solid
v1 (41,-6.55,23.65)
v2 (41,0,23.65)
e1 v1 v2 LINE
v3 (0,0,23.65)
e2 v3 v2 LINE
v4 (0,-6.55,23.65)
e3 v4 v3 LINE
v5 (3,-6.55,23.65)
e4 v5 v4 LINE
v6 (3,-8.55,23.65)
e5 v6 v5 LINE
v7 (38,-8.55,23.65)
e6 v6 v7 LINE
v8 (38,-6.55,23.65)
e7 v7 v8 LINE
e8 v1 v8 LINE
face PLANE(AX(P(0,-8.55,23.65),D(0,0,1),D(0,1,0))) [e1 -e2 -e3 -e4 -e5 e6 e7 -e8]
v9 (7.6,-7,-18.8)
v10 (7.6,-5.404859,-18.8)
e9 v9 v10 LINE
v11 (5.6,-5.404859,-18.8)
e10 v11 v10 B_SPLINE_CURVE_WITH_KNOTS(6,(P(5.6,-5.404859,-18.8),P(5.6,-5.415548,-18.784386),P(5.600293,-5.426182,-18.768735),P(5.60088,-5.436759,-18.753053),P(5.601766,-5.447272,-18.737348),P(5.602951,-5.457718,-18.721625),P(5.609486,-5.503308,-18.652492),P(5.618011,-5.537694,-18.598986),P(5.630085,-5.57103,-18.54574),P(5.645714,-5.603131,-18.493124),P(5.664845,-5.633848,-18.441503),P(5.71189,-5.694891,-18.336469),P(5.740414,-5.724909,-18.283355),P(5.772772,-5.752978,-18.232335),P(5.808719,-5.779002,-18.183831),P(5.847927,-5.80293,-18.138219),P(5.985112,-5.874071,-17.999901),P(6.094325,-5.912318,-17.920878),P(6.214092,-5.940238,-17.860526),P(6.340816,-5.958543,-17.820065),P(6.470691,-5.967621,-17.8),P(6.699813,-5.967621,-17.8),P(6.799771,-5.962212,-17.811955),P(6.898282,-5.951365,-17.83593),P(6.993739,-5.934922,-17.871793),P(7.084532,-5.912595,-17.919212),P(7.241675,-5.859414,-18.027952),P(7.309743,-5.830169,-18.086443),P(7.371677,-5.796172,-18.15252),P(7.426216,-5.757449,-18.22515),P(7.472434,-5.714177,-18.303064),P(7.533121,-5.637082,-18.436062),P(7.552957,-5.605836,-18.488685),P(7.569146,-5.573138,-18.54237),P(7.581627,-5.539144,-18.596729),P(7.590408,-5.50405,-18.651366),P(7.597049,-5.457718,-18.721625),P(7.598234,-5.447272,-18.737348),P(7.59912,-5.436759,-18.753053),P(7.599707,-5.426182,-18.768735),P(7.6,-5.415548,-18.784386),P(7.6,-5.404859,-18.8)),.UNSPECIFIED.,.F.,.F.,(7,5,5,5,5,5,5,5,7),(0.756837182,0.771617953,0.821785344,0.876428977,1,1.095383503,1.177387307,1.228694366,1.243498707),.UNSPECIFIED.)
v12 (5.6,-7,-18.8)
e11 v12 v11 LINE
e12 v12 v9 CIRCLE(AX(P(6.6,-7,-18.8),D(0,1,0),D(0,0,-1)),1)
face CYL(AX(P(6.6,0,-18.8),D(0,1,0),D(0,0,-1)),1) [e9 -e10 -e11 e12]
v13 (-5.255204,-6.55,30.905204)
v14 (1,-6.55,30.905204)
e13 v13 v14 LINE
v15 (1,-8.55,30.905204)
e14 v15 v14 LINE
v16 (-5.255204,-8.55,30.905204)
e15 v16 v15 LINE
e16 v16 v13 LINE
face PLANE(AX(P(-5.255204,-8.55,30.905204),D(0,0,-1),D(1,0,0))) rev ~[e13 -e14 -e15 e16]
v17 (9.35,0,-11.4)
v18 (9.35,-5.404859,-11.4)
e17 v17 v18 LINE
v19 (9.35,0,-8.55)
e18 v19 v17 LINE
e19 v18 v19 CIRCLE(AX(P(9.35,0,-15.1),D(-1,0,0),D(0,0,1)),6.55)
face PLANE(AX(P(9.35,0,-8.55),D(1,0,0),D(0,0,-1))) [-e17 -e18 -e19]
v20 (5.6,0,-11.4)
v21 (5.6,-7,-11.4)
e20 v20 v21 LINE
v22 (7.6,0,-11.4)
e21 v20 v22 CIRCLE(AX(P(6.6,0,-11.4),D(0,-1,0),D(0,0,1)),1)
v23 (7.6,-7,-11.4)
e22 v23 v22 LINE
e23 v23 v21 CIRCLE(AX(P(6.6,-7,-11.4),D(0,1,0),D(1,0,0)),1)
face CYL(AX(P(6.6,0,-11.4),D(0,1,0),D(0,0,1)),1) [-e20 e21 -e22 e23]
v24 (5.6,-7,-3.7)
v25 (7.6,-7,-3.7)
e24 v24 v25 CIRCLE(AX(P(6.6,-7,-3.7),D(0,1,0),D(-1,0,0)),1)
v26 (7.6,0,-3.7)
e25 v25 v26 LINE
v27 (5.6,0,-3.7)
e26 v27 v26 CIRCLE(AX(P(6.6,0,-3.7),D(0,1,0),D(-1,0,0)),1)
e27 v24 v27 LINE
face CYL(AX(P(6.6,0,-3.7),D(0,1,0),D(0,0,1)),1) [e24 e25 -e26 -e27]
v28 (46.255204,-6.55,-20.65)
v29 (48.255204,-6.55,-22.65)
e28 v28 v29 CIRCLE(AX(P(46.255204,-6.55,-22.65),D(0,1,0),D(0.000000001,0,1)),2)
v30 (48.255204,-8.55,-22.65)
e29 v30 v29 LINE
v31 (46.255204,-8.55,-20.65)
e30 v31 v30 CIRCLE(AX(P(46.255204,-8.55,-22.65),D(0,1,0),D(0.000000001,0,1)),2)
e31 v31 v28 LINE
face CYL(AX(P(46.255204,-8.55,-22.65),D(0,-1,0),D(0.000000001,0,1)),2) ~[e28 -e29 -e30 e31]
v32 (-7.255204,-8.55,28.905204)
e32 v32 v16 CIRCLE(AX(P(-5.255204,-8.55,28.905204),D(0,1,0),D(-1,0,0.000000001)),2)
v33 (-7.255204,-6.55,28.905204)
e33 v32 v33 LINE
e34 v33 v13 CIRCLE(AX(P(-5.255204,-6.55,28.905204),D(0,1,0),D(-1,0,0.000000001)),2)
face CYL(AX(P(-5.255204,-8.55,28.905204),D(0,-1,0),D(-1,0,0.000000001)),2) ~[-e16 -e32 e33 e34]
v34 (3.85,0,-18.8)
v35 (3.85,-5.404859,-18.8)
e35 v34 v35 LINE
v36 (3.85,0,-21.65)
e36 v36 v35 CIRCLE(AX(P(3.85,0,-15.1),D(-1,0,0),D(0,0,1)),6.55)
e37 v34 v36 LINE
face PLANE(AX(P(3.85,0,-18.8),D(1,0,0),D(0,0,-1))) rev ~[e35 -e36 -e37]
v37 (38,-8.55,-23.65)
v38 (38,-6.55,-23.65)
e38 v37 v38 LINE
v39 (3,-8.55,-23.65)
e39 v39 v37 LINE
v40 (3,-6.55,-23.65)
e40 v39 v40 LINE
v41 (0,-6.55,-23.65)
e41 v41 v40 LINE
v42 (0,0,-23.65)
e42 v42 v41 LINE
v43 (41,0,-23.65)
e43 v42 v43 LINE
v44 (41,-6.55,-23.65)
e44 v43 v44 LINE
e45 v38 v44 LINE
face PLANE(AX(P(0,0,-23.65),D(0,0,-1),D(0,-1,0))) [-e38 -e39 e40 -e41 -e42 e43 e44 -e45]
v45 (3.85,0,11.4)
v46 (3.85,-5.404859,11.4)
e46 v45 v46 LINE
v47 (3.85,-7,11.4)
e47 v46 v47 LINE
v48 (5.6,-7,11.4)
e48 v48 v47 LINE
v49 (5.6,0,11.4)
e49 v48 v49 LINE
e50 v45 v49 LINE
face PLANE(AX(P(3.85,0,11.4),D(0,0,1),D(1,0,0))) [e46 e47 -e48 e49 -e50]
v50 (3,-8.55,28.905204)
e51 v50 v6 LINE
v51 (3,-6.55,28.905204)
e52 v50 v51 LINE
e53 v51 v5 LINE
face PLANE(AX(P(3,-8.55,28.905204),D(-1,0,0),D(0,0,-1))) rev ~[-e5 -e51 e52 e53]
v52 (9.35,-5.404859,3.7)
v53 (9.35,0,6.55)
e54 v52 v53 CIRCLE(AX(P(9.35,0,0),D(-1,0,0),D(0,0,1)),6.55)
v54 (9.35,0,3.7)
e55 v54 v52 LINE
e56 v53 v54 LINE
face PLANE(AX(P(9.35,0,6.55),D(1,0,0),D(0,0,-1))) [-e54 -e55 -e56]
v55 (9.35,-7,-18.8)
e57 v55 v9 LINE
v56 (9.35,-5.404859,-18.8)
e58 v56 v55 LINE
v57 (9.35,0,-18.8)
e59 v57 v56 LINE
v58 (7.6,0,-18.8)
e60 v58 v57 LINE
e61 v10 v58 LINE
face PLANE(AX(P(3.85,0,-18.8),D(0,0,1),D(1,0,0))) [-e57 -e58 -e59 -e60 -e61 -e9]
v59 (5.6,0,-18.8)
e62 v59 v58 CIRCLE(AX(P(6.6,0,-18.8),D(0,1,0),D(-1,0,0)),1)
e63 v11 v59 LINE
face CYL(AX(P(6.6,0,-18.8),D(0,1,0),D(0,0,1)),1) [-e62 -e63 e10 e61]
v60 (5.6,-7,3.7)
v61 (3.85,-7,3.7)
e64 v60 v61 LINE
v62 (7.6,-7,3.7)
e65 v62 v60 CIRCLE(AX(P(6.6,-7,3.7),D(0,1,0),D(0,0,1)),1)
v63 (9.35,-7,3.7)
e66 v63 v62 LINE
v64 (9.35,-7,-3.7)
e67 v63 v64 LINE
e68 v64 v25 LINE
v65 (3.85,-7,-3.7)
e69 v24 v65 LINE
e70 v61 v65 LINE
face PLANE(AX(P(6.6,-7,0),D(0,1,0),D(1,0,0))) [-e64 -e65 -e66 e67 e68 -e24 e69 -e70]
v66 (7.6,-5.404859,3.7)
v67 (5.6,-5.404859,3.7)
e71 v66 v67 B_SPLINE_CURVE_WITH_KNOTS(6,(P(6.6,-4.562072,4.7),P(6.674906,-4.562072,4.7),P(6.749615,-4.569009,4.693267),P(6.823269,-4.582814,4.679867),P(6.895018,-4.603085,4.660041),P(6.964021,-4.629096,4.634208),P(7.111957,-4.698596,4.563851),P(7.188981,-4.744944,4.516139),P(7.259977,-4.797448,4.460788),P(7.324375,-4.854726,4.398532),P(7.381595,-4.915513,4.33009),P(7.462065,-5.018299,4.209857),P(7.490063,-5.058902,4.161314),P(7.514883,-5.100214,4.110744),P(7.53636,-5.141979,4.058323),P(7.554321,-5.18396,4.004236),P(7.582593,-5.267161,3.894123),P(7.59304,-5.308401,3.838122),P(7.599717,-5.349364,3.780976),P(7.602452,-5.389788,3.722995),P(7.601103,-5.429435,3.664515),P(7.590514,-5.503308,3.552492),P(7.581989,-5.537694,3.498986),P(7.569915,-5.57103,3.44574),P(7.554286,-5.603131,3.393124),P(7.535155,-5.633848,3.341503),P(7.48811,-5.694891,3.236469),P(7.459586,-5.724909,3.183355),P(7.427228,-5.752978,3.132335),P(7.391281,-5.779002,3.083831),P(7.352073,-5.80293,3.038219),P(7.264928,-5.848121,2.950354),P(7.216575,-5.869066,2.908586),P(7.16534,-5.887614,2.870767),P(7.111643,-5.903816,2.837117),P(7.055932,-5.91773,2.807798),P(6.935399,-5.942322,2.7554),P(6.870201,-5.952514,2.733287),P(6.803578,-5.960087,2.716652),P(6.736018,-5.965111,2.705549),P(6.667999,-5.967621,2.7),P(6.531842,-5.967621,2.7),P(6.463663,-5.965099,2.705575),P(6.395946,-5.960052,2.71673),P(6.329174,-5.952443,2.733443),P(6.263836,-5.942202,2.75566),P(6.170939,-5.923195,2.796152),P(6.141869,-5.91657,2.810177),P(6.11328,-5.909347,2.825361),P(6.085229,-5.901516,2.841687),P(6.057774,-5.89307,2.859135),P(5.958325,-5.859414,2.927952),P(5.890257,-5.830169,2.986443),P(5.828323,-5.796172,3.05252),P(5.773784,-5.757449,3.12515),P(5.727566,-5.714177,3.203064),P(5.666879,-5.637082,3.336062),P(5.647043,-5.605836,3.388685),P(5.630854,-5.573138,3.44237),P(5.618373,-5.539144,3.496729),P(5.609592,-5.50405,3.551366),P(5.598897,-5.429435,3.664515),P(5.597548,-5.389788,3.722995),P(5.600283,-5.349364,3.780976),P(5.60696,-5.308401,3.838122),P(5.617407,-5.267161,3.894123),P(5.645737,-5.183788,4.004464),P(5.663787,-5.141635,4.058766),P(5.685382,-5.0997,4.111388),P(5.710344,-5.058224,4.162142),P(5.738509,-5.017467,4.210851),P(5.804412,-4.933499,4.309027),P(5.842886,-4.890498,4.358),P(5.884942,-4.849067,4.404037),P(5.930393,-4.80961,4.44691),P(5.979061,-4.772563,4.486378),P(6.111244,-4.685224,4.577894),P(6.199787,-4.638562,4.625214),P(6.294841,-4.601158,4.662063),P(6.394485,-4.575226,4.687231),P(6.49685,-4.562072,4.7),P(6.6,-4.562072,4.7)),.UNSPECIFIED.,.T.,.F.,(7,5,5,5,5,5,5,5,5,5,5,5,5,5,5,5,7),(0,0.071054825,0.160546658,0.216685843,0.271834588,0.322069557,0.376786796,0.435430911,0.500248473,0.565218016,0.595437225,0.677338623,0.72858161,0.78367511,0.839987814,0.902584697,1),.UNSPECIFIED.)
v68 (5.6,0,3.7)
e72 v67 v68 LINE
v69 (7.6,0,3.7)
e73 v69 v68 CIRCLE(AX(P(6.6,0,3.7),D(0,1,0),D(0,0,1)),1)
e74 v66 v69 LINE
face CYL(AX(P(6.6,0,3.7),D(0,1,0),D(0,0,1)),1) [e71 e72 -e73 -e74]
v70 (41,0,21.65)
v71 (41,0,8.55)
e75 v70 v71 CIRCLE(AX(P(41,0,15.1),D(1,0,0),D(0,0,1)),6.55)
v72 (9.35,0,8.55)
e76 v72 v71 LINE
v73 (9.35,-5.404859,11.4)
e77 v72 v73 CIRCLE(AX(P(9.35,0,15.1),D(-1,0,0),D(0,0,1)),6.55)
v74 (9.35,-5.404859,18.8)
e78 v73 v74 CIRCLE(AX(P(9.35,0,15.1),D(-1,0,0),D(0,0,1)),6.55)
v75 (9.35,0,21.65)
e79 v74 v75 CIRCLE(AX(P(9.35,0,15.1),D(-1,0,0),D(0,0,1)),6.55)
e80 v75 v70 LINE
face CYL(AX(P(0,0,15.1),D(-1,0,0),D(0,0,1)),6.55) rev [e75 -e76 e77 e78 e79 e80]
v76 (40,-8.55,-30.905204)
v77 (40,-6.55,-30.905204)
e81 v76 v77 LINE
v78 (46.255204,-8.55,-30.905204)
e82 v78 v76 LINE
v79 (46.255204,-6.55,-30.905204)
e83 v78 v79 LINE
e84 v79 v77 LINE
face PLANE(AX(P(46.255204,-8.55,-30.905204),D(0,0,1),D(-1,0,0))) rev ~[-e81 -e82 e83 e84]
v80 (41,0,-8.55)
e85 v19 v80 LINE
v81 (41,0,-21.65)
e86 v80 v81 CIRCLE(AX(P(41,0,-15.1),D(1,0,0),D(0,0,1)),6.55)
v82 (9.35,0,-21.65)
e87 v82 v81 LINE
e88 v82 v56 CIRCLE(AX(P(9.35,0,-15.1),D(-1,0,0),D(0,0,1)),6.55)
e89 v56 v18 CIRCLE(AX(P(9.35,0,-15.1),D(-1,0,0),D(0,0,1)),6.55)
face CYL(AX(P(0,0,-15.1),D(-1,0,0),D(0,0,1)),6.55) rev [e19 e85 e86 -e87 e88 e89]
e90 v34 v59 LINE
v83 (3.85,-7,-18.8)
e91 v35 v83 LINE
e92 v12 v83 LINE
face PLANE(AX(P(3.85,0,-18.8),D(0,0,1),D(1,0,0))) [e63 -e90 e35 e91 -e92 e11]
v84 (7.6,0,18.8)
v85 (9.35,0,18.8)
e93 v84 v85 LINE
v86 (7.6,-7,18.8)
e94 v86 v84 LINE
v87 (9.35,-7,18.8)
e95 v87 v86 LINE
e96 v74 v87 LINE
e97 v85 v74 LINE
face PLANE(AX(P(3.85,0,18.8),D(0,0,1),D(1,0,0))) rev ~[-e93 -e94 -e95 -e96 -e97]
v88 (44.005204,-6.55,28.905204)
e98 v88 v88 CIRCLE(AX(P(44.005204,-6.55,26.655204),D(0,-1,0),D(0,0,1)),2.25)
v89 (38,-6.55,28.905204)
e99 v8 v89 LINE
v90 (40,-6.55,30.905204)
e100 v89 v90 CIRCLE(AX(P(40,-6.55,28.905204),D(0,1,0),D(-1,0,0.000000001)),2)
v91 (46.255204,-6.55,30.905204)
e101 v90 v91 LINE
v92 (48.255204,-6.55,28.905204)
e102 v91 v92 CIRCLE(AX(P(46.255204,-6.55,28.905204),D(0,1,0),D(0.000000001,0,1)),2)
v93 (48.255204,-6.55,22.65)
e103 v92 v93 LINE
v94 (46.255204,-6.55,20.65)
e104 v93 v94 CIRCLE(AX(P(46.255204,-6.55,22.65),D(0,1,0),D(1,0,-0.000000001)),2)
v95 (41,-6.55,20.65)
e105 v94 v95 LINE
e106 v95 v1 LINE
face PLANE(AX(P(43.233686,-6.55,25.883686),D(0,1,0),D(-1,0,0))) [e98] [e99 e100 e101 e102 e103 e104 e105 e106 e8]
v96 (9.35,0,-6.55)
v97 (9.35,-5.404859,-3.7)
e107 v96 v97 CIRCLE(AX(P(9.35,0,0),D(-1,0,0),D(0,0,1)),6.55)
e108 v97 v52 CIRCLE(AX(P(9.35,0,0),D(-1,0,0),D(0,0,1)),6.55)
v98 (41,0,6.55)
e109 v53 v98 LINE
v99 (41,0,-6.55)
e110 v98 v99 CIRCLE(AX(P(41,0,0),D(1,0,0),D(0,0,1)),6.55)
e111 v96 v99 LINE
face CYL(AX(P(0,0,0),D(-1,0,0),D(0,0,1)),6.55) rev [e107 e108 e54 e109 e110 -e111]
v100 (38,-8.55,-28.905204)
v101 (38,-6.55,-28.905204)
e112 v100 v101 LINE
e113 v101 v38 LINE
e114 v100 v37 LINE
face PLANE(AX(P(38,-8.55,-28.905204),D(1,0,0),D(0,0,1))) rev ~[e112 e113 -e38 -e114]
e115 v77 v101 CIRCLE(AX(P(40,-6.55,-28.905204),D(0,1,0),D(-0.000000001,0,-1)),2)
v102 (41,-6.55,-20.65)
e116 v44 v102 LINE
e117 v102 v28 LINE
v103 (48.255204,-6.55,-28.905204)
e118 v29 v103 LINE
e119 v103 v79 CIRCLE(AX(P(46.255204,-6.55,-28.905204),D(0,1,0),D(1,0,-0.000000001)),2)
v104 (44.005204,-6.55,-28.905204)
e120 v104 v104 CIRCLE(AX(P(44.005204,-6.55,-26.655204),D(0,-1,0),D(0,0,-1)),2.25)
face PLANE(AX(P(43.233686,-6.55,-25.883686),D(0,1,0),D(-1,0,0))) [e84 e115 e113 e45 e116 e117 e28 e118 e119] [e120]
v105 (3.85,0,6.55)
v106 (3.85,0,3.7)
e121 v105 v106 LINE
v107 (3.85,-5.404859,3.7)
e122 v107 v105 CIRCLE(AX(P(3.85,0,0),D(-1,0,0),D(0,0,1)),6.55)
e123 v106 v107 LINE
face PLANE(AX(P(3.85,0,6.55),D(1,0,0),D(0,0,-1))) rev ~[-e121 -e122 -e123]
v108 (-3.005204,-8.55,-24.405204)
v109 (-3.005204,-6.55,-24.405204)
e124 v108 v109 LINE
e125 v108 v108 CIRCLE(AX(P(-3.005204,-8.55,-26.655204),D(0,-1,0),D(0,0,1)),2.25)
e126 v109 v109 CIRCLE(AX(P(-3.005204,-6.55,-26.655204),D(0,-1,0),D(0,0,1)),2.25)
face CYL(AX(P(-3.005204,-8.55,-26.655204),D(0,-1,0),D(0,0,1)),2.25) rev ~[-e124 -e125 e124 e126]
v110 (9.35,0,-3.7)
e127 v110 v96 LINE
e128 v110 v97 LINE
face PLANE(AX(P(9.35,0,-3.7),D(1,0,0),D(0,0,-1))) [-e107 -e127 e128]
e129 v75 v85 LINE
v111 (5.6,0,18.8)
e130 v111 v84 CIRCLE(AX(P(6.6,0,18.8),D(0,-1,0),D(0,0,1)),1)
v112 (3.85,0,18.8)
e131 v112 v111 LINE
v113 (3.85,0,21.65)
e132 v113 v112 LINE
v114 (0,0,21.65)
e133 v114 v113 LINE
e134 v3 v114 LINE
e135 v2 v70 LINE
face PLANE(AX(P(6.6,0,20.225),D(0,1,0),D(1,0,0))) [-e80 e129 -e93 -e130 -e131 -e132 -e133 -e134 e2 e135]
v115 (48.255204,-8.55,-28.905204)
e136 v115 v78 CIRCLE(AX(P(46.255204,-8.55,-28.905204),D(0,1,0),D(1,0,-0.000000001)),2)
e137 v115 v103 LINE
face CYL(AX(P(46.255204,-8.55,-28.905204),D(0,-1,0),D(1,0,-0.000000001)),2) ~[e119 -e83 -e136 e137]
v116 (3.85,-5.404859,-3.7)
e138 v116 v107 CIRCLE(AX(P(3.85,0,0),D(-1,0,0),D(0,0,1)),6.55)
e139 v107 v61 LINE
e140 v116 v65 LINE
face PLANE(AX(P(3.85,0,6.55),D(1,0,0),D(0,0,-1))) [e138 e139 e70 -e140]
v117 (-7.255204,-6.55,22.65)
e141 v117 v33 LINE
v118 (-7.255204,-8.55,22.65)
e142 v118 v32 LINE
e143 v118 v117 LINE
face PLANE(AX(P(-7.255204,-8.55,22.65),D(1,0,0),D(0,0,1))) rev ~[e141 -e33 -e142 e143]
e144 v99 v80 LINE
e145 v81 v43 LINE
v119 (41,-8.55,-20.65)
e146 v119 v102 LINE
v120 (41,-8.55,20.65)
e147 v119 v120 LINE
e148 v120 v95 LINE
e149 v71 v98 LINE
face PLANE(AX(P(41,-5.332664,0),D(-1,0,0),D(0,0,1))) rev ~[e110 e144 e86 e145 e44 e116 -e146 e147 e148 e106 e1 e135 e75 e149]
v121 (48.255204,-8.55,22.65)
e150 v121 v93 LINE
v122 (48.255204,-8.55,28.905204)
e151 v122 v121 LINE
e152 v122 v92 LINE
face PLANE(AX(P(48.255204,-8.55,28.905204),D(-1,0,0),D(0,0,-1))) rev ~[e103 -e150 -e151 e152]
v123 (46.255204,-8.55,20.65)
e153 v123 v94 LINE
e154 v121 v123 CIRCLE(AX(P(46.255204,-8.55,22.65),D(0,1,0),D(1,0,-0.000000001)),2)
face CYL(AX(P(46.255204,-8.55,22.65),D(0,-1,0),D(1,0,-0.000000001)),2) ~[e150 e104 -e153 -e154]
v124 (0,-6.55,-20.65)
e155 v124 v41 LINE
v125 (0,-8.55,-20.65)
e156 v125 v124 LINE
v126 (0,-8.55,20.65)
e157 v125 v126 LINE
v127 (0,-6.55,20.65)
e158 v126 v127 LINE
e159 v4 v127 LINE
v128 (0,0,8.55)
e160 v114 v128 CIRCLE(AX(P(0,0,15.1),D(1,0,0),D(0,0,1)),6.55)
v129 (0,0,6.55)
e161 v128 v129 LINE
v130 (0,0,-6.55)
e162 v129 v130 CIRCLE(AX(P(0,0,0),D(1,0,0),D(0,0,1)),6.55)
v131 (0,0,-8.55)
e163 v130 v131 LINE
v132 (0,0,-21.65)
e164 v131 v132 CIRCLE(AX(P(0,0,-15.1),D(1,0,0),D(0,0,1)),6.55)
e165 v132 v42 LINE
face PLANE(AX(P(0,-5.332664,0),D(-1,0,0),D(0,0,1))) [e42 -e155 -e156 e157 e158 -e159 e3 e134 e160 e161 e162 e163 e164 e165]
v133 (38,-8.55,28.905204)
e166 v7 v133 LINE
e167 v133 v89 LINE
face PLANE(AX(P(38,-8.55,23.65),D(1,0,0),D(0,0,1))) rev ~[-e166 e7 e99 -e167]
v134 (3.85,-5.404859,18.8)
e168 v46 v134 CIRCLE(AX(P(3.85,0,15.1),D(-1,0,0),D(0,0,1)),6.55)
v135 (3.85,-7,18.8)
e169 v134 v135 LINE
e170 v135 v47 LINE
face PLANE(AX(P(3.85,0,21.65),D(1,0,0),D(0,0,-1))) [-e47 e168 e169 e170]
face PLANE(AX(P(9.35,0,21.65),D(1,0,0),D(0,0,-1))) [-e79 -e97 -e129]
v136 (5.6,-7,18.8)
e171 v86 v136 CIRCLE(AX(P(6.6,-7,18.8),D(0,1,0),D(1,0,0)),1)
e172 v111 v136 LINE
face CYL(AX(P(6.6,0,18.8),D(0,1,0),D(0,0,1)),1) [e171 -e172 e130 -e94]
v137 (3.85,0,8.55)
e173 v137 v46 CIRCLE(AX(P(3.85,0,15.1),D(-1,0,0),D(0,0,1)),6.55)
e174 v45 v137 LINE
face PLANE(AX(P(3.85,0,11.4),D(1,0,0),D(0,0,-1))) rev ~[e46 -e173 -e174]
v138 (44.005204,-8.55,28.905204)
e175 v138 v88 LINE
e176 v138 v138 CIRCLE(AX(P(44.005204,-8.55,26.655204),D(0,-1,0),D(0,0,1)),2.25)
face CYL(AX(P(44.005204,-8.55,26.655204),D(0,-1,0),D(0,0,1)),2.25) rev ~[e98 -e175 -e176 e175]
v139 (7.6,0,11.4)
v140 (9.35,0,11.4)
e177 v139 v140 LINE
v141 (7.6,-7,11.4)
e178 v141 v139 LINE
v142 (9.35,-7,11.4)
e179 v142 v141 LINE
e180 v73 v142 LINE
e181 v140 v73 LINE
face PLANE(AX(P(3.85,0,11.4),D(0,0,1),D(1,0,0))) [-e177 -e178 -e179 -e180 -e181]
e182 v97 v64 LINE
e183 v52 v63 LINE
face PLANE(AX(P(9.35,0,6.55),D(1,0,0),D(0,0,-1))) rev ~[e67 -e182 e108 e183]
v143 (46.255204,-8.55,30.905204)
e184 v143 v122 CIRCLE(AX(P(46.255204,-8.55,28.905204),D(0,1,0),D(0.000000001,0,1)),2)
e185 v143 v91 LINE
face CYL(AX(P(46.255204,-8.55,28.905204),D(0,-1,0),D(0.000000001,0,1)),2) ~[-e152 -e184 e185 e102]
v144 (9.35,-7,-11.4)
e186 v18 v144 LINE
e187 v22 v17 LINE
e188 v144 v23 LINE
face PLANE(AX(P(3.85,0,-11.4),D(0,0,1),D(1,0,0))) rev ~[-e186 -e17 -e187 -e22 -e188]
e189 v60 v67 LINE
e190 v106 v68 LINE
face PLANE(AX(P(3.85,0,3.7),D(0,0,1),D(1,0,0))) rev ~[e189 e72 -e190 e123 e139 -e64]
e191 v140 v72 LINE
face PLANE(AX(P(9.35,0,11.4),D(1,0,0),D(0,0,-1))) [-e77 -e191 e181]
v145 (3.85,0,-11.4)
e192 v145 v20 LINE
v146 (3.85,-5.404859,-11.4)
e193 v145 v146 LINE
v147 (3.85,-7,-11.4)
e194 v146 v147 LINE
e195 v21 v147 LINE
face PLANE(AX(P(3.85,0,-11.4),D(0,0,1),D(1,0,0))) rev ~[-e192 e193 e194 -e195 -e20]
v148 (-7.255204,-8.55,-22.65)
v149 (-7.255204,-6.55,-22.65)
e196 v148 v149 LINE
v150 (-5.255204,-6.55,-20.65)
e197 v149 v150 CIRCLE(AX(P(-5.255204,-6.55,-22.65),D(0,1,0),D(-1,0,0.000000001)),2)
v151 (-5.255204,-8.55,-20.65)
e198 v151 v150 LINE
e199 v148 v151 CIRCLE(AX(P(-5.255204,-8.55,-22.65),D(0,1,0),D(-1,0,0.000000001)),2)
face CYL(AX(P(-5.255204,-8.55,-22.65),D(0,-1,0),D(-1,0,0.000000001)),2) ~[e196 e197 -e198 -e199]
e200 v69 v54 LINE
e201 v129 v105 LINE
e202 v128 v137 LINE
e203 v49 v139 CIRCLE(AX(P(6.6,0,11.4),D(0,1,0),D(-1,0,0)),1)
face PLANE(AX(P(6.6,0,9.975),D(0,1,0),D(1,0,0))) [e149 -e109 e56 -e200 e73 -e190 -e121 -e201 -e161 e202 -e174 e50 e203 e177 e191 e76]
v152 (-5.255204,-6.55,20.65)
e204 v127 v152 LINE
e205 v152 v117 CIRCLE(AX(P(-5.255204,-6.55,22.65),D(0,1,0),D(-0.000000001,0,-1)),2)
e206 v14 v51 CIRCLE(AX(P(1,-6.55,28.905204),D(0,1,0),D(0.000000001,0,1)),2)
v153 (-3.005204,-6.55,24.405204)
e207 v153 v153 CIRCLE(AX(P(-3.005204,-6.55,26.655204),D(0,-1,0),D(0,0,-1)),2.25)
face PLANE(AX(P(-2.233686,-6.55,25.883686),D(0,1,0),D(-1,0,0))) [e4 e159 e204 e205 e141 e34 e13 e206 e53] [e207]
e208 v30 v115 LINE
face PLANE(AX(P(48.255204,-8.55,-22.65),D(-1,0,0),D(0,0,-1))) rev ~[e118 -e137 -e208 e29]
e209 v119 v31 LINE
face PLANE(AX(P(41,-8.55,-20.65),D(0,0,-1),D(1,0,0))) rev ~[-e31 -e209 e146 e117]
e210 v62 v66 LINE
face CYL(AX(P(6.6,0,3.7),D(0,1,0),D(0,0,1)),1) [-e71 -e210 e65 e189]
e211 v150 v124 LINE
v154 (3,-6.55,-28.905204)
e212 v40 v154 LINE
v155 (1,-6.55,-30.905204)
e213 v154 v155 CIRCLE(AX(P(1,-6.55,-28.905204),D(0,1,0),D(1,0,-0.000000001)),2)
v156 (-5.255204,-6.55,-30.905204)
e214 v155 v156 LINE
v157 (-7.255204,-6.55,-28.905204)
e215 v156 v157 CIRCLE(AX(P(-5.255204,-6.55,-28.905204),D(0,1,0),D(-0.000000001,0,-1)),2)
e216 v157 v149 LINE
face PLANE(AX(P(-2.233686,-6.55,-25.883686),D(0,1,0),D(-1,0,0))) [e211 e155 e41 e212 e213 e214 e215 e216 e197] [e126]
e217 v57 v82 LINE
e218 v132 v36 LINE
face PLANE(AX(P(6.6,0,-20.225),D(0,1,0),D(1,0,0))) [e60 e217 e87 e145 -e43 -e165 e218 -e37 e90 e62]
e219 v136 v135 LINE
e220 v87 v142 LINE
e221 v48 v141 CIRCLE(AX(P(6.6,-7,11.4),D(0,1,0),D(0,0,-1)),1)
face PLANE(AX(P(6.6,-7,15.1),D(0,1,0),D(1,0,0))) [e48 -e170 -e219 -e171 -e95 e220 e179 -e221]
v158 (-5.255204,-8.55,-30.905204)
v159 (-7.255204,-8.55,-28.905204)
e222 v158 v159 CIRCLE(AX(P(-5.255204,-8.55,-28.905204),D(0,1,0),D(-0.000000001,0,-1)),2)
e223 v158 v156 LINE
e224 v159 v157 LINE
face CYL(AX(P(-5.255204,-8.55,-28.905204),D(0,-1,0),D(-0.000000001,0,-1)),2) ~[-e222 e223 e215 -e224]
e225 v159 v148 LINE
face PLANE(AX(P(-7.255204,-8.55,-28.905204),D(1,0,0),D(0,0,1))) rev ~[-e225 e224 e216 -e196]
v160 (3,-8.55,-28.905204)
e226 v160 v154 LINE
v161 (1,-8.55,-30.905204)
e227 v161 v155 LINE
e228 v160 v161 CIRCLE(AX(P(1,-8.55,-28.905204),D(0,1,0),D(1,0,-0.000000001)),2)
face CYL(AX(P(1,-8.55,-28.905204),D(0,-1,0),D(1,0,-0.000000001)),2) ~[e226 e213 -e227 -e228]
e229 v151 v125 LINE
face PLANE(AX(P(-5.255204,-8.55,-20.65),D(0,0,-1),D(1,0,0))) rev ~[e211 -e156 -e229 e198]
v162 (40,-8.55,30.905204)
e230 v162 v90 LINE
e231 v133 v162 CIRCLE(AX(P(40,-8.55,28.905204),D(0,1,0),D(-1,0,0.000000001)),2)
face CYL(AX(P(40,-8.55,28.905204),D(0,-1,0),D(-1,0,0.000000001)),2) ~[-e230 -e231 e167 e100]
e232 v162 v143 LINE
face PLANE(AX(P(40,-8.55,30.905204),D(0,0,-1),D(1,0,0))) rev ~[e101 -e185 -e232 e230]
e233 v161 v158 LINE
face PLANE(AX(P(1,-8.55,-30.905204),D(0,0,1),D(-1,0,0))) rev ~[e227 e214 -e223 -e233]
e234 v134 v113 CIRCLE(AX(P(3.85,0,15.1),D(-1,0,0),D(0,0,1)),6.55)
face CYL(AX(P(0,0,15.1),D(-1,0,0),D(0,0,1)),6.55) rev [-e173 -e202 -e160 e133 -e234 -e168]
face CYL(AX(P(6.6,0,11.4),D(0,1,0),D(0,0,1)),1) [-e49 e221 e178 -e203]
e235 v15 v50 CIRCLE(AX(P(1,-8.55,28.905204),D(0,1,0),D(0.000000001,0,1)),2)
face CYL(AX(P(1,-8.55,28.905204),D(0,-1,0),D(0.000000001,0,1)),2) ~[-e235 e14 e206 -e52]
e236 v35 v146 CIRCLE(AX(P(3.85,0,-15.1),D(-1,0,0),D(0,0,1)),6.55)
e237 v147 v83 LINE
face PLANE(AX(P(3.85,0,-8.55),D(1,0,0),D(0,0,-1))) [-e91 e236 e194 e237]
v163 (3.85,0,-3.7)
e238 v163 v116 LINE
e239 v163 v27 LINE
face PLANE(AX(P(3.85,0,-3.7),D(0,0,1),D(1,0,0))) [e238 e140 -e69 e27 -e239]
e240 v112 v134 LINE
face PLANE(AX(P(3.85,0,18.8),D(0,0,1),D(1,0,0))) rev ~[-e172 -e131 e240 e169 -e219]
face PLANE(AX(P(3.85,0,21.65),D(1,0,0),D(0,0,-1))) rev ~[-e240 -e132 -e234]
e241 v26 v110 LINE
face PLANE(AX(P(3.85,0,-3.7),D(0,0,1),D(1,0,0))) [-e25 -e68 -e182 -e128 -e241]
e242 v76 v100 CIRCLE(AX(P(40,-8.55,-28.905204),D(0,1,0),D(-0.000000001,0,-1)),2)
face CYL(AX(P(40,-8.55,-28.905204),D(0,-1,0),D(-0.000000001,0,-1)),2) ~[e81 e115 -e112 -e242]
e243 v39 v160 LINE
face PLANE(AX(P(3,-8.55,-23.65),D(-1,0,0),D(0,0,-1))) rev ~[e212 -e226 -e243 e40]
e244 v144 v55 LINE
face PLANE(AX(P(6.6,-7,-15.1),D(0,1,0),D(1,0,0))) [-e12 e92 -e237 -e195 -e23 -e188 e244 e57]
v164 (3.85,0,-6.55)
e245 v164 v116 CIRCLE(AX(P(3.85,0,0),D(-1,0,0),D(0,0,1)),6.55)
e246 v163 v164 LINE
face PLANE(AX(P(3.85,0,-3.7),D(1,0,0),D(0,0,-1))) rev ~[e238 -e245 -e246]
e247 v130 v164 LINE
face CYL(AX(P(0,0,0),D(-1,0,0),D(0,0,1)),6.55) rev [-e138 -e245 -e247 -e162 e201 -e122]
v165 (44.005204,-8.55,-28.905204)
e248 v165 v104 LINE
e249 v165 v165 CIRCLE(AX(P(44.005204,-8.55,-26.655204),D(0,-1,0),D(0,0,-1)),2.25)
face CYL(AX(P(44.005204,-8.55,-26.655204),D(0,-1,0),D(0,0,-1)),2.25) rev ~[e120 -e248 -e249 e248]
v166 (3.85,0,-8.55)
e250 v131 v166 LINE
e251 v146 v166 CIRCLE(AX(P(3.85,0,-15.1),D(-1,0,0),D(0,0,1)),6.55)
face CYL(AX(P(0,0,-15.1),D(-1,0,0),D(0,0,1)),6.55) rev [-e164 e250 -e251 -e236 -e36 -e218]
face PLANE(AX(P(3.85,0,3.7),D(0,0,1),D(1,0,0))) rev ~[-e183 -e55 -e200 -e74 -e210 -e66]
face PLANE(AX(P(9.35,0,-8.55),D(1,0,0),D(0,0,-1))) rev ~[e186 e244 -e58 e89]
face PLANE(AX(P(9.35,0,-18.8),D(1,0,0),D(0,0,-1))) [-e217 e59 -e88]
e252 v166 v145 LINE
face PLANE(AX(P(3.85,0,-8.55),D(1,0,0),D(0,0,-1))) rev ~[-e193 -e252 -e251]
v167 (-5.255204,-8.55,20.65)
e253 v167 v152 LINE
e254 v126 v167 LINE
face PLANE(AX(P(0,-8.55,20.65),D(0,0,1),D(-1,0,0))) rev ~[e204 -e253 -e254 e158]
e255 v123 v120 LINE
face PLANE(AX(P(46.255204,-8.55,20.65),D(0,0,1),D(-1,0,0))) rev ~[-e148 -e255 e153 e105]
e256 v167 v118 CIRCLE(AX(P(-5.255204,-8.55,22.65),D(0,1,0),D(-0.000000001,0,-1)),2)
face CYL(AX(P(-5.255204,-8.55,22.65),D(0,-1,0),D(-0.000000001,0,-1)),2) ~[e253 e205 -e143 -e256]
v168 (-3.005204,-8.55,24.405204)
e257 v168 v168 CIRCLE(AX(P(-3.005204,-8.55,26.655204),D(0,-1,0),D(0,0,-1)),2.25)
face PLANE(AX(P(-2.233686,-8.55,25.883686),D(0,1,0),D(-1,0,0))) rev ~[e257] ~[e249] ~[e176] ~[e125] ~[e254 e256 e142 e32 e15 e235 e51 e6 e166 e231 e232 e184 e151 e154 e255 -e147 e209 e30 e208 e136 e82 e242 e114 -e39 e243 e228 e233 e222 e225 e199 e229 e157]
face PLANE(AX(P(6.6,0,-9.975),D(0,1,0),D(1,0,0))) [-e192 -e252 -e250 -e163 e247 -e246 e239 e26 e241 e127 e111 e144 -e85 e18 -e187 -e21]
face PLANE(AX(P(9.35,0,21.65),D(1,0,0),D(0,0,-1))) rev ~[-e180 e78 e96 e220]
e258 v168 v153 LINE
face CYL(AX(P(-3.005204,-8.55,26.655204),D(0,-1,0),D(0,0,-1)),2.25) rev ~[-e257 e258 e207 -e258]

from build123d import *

# Parameters (mm, degrees)
BOSS_EXTRUDE1_DEPTH = 41
BOSS_EXTRUDE2_REACH = 50.098
SKETCH2_R           = 1
SKETCH4_W           = 5.5
SKETCH4_H           = 13.1
SKETCH4_R           = 1
CUT_EXTRUDE1_DEPTH  = 7
SKETCH5_R           = 2.25
BOSS_EXTRUDE3_DEPTH = 2
BOSS_EXTRUDE4_REACH = 59.938
SKETCH6_W           = 5.5
SKETCH6_H           = 2.85


with BuildPart() as part:
    # Sketch1 → Boss-Extrude1 (new body)
    with BuildSketch(Plane(origin=(0, 0, 0), x_dir=(0, 0, -1), z_dir=(1, 0, 0))):
        with BuildLine():
            Line((-8.55, 0), (-6.55, 0))
            ThreePointArc((-6.55, 0), (0, -6.55), (6.55, 0))
            Line((6.55, 0), (8.55, 0))
            ThreePointArc((8.55, 0), (15.1, -6.55), (21.65, 0))
            Line((21.65, 0), (23.65, 0))
            Line((23.65, 0), (23.65, -8.55))
            Line((23.65, -8.55), (-23.65, -8.55))
            Line((-23.65, -8.55), (-23.65, 0))
            Line((-23.65, 0), (-21.65, 0))
            ThreePointArc((-21.65, 0), (-15.1, -6.55), (-8.55, 0))
        make_face()
    extrude(amount=BOSS_EXTRUDE1_DEPTH)

    # Sketch2 → Boss-Extrude2 (add, up to next)
    with BuildSketch(Plane(origin=(0, 0, 0), x_dir=(1, 0, 0), z_dir=(0, 1, 0)), mode=Mode.PRIVATE) as boss_extrude2_sk1:
        with Locations(Location((6.6, 3.7, 0), (0, 0, 270))):
            Circle(SKETCH2_R)
    boss_extrude2_tool1 = extrude(boss_extrude2_sk1.sketch, amount=-BOSS_EXTRUDE2_REACH, mode=Mode.PRIVATE) - part.part
    # Sketch2 → Boss-Extrude2 (add, up to next)
    with BuildSketch(Plane(origin=(0, 0, 0), x_dir=(1, 0, 0), z_dir=(0, 1, 0)), mode=Mode.PRIVATE) as boss_extrude2_sk2:
        with Locations(Location((6.6, -3.7, 0), (0, 0, 270))):
            Circle(SKETCH2_R)
    boss_extrude2_tool2 = extrude(boss_extrude2_sk2.sketch, amount=-BOSS_EXTRUDE2_REACH, mode=Mode.PRIVATE) - part.part
    # Sketch2 → Boss-Extrude2 (add, up to next)
    with BuildSketch(Plane(origin=(0, 0, 0), x_dir=(1, 0, 0), z_dir=(0, 1, 0)), mode=Mode.PRIVATE) as boss_extrude2_sk3:
        with Locations(Location((6.6, -11.4, 0), (0, 0, 270))):
            Circle(SKETCH2_R)
    boss_extrude2_tool3 = extrude(boss_extrude2_sk3.sketch, amount=-BOSS_EXTRUDE2_REACH, mode=Mode.PRIVATE) - part.part
    # Sketch2 → Boss-Extrude2 (add, up to next)
    with BuildSketch(Plane(origin=(0, 0, 0), x_dir=(1, 0, 0), z_dir=(0, 1, 0)), mode=Mode.PRIVATE) as boss_extrude2_sk4:
        with Locations(Location((6.6, -18.8, 0), (0, 0, 270))):
            Circle(SKETCH2_R)
    boss_extrude2_tool4 = extrude(boss_extrude2_sk4.sketch, amount=-BOSS_EXTRUDE2_REACH, mode=Mode.PRIVATE) - part.part
    # Sketch2 → Boss-Extrude2 (add, up to next)
    with BuildSketch(Plane(origin=(0, 0, 0), x_dir=(1, 0, 0), z_dir=(0, 1, 0)), mode=Mode.PRIVATE) as boss_extrude2_sk5:
        with Locations(Location((6.6, 18.8, 0), (0, 0, 270))):
            Circle(SKETCH2_R)
    boss_extrude2_tool5 = extrude(boss_extrude2_sk5.sketch, amount=-BOSS_EXTRUDE2_REACH, mode=Mode.PRIVATE) - part.part
    # Sketch2 → Boss-Extrude2 (add, up to next)
    with BuildSketch(Plane(origin=(0, 0, 0), x_dir=(1, 0, 0), z_dir=(0, 1, 0)), mode=Mode.PRIVATE) as boss_extrude2_sk6:
        with Locations(Location((6.6, 11.4, 0), (0, 0, 270))):
            Circle(SKETCH2_R)
    boss_extrude2_tool6 = extrude(boss_extrude2_sk6.sketch, amount=-BOSS_EXTRUDE2_REACH, mode=Mode.PRIVATE) - part.part
    add(boss_extrude2_tool1.solids().sort_by_distance((6.6, 0, -3.7))[0])
    add(boss_extrude2_tool2.solids().sort_by_distance((6.6, 0, 3.7))[0])
    add(boss_extrude2_tool3.solids().sort_by_distance((6.6, 0, 11.4))[0])
    add(boss_extrude2_tool4.solids().sort_by_distance((6.6, 0, 18.8))[0])
    add(boss_extrude2_tool5.solids().sort_by_distance((6.6, 0, -18.8))[0])
    add(boss_extrude2_tool6.solids().sort_by_distance((6.6, 0, -11.4))[0])

    # Sketch4 → Cut-Extrude1 (cut)
    # profile 1 of 3: a face of its own
    with BuildSketch(Plane(origin=(0, 0, 0), x_dir=(1, 0, 0), z_dir=(0, 1, 0))):
        with Locations((6.6, 0)):
            Rectangle(SKETCH4_W, SKETCH4_H)
        with Locations(Location((6.6, 3.7, 0), (0, 0, 270))):
            Circle(SKETCH4_R, mode=Mode.SUBTRACT)
        with Locations(Location((6.6, -3.7, 0), (0, 0, 270))):
            Circle(SKETCH4_R, mode=Mode.SUBTRACT)
    # profile 2 of 3: a face of its own
    with BuildSketch(Plane(origin=(0, 0, 0), x_dir=(1, 0, 0), z_dir=(0, 1, 0))):
        with Locations((6.6, -15.1)):
            Rectangle(SKETCH4_W, SKETCH4_H)
        with Locations(Location((6.6, -11.4, 0), (0, 0, 90))):
            Circle(SKETCH4_R, mode=Mode.SUBTRACT)
        with Locations(Location((6.6, -18.8, 0), (0, 0, 90))):
            Circle(SKETCH4_R, mode=Mode.SUBTRACT)
    # profile 3 of 3: a face of its own
    with BuildSketch(Plane(origin=(0, 0, 0), x_dir=(1, 0, 0), z_dir=(0, 1, 0))):
        with Locations((6.6, 15.1)):
            Rectangle(SKETCH4_W, SKETCH4_H)
        with Locations(Location((6.6, 11.4, 0), (0, 0, 90))):
            Circle(SKETCH4_R, mode=Mode.SUBTRACT)
        with Locations(Location((6.6, 18.8, 0), (0, 0, 90))):
            Circle(SKETCH4_R, mode=Mode.SUBTRACT)
    extrude(amount=-CUT_EXTRUDE1_DEPTH, mode=Mode.SUBTRACT)

    # Sketch5 → Boss-Extrude3 (add)
    # profile 1 of 4: a face of its own
    with BuildSketch(Plane.XZ.offset(8.55)):
        with BuildLine():
            Line((0, 23.65), (0, 20.65))
            Line((0, 20.65), (-5.25520382, 20.65))
            ThreePointArc((-5.25520382, 20.65), (-6.669417382, 21.235786438), (-7.25520382, 22.65))
            Line((-7.25520382, 22.65), (-7.25520382, 28.90520382))
            ThreePointArc((-7.25520382, 28.90520382), (-6.669417382, 30.319417382), (-5.25520382, 30.90520382))
            Line((-5.25520382, 30.90520382), (1, 30.90520382))
            ThreePointArc((1, 30.90520382), (2.414213562, 30.319417382), (3, 28.90520382))
            Line((3, 28.90520382), (3, 23.65))
            Line((3, 23.65), (0, 23.65))
        make_face()
        with Locations(Location((-3.00520382, 26.65520382, 0), (0, 0, 270))):
            Circle(SKETCH5_R, mode=Mode.SUBTRACT)
    # profile 2 of 4: a face of its own
    with BuildSketch(Plane.XZ.offset(8.55)):
        with BuildLine():
            Line((0, -23.65), (3, -23.65))
            Line((3, -23.65), (3, -28.90520382))
            ThreePointArc((3, -28.90520382), (2.414213562, -30.319417382), (1, -30.90520382))
            Line((1, -30.90520382), (-5.25520382, -30.90520382))
            ThreePointArc((-5.25520382, -30.90520382), (-6.669417382, -30.319417382), (-7.25520382, -28.90520382))
            Line((-7.25520382, -28.90520382), (-7.25520382, -22.65))
            ThreePointArc((-7.25520382, -22.65), (-6.669417382, -21.235786438), (-5.25520382, -20.65))
            Line((-5.25520382, -20.65), (0, -20.65))
            Line((0, -20.65), (0, -23.65))
        make_face()
        with Locations(Location((-3.00520382, -26.65520382, 0), (0, 0, 90))):
            Circle(SKETCH5_R, mode=Mode.SUBTRACT)
    # profile 3 of 4: a face of its own
    with BuildSketch(Plane.XZ.offset(8.55)):
        with BuildLine():
            Line((41, -23.65), (41, -20.65))
            Line((41, -20.65), (46.25520382, -20.65))
            ThreePointArc((46.25520382, -20.65), (47.669417382, -21.235786438), (48.25520382, -22.65))
            Line((48.25520382, -22.65), (48.25520382, -28.90520382))
            ThreePointArc((48.25520382, -28.90520382), (47.669417382, -30.319417382), (46.25520382, -30.90520382))
            Line((46.25520382, -30.90520382), (40, -30.90520382))
            ThreePointArc((40, -30.90520382), (38.585786438, -30.319417382), (38, -28.90520382))
            Line((38, -28.90520382), (38, -23.65))
            Line((38, -23.65), (41, -23.65))
        make_face()
        with Locations(Location((44.00520382, -26.65520382, 0), (0, 0, 270))):
            Circle(SKETCH5_R, mode=Mode.SUBTRACT)
    # profile 4 of 4: a face of its own
    with BuildSketch(Plane.XZ.offset(8.55)):
        with BuildLine():
            Line((41, 23.65), (38, 23.65))
            Line((38, 23.65), (38, 28.90520382))
            ThreePointArc((38, 28.90520382), (38.585786438, 30.319417382), (40, 30.90520382))
            Line((40, 30.90520382), (46.25520382, 30.90520382))
            ThreePointArc((46.25520382, 30.90520382), (47.669417382, 30.319417382), (48.25520382, 28.90520382))
            Line((48.25520382, 28.90520382), (48.25520382, 22.65))
            ThreePointArc((48.25520382, 22.65), (47.669417382, 21.235786438), (46.25520382, 20.65))
            Line((46.25520382, 20.65), (41, 20.65))
            Line((41, 20.65), (41, 23.65))
        make_face()
        with Locations(Location((44.00520382, 26.65520382, 0), (0, 0, 90))):
            Circle(SKETCH5_R, mode=Mode.SUBTRACT)
    extrude(amount=-BOSS_EXTRUDE3_DEPTH)

    # Boss-Extrude4: up to this face of the body (flat: up to its plane)
    boss_extrude4_end = Plane(part.part.faces().sort_by_distance((6.6, -7, -15.1))[0])
    # Sketch6 → Boss-Extrude4 (add, up to the picked face)
    with BuildSketch(Plane(origin=(0, 0, 0), x_dir=(1, 0, 0), z_dir=(0, 1, 0)), mode=Mode.PRIVATE) as boss_extrude4_sk1:
        with Locations((6.6, -5.125)):
            Rectangle(SKETCH6_W, SKETCH6_H)
    boss_extrude4_tool1 = split(extrude(boss_extrude4_sk1.sketch, amount=-BOSS_EXTRUDE4_REACH, mode=Mode.PRIVATE), bisect_by=boss_extrude4_end, keep=Keep.BOTH, mode=Mode.PRIVATE)
    # Sketch6 → Boss-Extrude4 (add, up to the picked face)
    with BuildSketch(Plane(origin=(0, 0, 0), x_dir=(1, 0, 0), z_dir=(0, 1, 0)), mode=Mode.PRIVATE) as boss_extrude4_sk2:
        with Locations((6.6, 5.125)):
            Rectangle(SKETCH6_W, SKETCH6_H)
    boss_extrude4_tool2 = split(extrude(boss_extrude4_sk2.sketch, amount=-BOSS_EXTRUDE4_REACH, mode=Mode.PRIVATE), bisect_by=boss_extrude4_end, keep=Keep.BOTH, mode=Mode.PRIVATE)
    # Sketch6 → Boss-Extrude4 (add, up to the picked face)
    with BuildSketch(Plane(origin=(0, 0, 0), x_dir=(1, 0, 0), z_dir=(0, 1, 0)), mode=Mode.PRIVATE) as boss_extrude4_sk3:
        with Locations((6.6, -20.225)):
            Rectangle(SKETCH6_W, SKETCH6_H)
    boss_extrude4_tool3 = split(extrude(boss_extrude4_sk3.sketch, amount=-BOSS_EXTRUDE4_REACH, mode=Mode.PRIVATE), bisect_by=boss_extrude4_end, keep=Keep.BOTH, mode=Mode.PRIVATE)
    # Sketch6 → Boss-Extrude4 (add, up to the picked face)
    with BuildSketch(Plane(origin=(0, 0, 0), x_dir=(1, 0, 0), z_dir=(0, 1, 0)), mode=Mode.PRIVATE) as boss_extrude4_sk4:
        with Locations((6.6, -9.975)):
            Rectangle(SKETCH6_W, SKETCH6_H)
    boss_extrude4_tool4 = split(extrude(boss_extrude4_sk4.sketch, amount=-BOSS_EXTRUDE4_REACH, mode=Mode.PRIVATE), bisect_by=boss_extrude4_end, keep=Keep.BOTH, mode=Mode.PRIVATE)
    # Sketch6 → Boss-Extrude4 (add, up to the picked face)
    with BuildSketch(Plane(origin=(0, 0, 0), x_dir=(1, 0, 0), z_dir=(0, 1, 0)), mode=Mode.PRIVATE) as boss_extrude4_sk5:
        with Locations((6.6, 9.975)):
            Rectangle(SKETCH6_W, SKETCH6_H)
    boss_extrude4_tool5 = split(extrude(boss_extrude4_sk5.sketch, amount=-BOSS_EXTRUDE4_REACH, mode=Mode.PRIVATE), bisect_by=boss_extrude4_end, keep=Keep.BOTH, mode=Mode.PRIVATE)
    # Sketch6 → Boss-Extrude4 (add, up to the picked face)
    with BuildSketch(Plane(origin=(0, 0, 0), x_dir=(1, 0, 0), z_dir=(0, 1, 0)), mode=Mode.PRIVATE) as boss_extrude4_sk6:
        with Locations((6.6, 20.225)):
            Rectangle(SKETCH6_W, SKETCH6_H)
    boss_extrude4_tool6 = split(extrude(boss_extrude4_sk6.sketch, amount=-BOSS_EXTRUDE4_REACH, mode=Mode.PRIVATE), bisect_by=boss_extrude4_end, keep=Keep.BOTH, mode=Mode.PRIVATE)
    add(boss_extrude4_tool1.solids().sort_by(Axis((6.6, 0, 5.125), (0, -1, 0)))[0])
    add(boss_extrude4_tool2.solids().sort_by(Axis((6.6, 0, -5.125), (0, -1, 0)))[0])
    add(boss_extrude4_tool3.solids().sort_by(Axis((6.6, 0, 20.225), (0, -1, 0)))[0])
    add(boss_extrude4_tool4.solids().sort_by(Axis((6.6, 0, 9.975), (0, -1, 0)))[0])
    add(boss_extrude4_tool5.solids().sort_by(Axis((6.6, 0, -9.975), (0, -1, 0)))[0])
    add(boss_extrude4_tool6.solids().sort_by(Axis((6.6, 0, -20.225), (0, -1, 0)))[0])


solid = part.part
